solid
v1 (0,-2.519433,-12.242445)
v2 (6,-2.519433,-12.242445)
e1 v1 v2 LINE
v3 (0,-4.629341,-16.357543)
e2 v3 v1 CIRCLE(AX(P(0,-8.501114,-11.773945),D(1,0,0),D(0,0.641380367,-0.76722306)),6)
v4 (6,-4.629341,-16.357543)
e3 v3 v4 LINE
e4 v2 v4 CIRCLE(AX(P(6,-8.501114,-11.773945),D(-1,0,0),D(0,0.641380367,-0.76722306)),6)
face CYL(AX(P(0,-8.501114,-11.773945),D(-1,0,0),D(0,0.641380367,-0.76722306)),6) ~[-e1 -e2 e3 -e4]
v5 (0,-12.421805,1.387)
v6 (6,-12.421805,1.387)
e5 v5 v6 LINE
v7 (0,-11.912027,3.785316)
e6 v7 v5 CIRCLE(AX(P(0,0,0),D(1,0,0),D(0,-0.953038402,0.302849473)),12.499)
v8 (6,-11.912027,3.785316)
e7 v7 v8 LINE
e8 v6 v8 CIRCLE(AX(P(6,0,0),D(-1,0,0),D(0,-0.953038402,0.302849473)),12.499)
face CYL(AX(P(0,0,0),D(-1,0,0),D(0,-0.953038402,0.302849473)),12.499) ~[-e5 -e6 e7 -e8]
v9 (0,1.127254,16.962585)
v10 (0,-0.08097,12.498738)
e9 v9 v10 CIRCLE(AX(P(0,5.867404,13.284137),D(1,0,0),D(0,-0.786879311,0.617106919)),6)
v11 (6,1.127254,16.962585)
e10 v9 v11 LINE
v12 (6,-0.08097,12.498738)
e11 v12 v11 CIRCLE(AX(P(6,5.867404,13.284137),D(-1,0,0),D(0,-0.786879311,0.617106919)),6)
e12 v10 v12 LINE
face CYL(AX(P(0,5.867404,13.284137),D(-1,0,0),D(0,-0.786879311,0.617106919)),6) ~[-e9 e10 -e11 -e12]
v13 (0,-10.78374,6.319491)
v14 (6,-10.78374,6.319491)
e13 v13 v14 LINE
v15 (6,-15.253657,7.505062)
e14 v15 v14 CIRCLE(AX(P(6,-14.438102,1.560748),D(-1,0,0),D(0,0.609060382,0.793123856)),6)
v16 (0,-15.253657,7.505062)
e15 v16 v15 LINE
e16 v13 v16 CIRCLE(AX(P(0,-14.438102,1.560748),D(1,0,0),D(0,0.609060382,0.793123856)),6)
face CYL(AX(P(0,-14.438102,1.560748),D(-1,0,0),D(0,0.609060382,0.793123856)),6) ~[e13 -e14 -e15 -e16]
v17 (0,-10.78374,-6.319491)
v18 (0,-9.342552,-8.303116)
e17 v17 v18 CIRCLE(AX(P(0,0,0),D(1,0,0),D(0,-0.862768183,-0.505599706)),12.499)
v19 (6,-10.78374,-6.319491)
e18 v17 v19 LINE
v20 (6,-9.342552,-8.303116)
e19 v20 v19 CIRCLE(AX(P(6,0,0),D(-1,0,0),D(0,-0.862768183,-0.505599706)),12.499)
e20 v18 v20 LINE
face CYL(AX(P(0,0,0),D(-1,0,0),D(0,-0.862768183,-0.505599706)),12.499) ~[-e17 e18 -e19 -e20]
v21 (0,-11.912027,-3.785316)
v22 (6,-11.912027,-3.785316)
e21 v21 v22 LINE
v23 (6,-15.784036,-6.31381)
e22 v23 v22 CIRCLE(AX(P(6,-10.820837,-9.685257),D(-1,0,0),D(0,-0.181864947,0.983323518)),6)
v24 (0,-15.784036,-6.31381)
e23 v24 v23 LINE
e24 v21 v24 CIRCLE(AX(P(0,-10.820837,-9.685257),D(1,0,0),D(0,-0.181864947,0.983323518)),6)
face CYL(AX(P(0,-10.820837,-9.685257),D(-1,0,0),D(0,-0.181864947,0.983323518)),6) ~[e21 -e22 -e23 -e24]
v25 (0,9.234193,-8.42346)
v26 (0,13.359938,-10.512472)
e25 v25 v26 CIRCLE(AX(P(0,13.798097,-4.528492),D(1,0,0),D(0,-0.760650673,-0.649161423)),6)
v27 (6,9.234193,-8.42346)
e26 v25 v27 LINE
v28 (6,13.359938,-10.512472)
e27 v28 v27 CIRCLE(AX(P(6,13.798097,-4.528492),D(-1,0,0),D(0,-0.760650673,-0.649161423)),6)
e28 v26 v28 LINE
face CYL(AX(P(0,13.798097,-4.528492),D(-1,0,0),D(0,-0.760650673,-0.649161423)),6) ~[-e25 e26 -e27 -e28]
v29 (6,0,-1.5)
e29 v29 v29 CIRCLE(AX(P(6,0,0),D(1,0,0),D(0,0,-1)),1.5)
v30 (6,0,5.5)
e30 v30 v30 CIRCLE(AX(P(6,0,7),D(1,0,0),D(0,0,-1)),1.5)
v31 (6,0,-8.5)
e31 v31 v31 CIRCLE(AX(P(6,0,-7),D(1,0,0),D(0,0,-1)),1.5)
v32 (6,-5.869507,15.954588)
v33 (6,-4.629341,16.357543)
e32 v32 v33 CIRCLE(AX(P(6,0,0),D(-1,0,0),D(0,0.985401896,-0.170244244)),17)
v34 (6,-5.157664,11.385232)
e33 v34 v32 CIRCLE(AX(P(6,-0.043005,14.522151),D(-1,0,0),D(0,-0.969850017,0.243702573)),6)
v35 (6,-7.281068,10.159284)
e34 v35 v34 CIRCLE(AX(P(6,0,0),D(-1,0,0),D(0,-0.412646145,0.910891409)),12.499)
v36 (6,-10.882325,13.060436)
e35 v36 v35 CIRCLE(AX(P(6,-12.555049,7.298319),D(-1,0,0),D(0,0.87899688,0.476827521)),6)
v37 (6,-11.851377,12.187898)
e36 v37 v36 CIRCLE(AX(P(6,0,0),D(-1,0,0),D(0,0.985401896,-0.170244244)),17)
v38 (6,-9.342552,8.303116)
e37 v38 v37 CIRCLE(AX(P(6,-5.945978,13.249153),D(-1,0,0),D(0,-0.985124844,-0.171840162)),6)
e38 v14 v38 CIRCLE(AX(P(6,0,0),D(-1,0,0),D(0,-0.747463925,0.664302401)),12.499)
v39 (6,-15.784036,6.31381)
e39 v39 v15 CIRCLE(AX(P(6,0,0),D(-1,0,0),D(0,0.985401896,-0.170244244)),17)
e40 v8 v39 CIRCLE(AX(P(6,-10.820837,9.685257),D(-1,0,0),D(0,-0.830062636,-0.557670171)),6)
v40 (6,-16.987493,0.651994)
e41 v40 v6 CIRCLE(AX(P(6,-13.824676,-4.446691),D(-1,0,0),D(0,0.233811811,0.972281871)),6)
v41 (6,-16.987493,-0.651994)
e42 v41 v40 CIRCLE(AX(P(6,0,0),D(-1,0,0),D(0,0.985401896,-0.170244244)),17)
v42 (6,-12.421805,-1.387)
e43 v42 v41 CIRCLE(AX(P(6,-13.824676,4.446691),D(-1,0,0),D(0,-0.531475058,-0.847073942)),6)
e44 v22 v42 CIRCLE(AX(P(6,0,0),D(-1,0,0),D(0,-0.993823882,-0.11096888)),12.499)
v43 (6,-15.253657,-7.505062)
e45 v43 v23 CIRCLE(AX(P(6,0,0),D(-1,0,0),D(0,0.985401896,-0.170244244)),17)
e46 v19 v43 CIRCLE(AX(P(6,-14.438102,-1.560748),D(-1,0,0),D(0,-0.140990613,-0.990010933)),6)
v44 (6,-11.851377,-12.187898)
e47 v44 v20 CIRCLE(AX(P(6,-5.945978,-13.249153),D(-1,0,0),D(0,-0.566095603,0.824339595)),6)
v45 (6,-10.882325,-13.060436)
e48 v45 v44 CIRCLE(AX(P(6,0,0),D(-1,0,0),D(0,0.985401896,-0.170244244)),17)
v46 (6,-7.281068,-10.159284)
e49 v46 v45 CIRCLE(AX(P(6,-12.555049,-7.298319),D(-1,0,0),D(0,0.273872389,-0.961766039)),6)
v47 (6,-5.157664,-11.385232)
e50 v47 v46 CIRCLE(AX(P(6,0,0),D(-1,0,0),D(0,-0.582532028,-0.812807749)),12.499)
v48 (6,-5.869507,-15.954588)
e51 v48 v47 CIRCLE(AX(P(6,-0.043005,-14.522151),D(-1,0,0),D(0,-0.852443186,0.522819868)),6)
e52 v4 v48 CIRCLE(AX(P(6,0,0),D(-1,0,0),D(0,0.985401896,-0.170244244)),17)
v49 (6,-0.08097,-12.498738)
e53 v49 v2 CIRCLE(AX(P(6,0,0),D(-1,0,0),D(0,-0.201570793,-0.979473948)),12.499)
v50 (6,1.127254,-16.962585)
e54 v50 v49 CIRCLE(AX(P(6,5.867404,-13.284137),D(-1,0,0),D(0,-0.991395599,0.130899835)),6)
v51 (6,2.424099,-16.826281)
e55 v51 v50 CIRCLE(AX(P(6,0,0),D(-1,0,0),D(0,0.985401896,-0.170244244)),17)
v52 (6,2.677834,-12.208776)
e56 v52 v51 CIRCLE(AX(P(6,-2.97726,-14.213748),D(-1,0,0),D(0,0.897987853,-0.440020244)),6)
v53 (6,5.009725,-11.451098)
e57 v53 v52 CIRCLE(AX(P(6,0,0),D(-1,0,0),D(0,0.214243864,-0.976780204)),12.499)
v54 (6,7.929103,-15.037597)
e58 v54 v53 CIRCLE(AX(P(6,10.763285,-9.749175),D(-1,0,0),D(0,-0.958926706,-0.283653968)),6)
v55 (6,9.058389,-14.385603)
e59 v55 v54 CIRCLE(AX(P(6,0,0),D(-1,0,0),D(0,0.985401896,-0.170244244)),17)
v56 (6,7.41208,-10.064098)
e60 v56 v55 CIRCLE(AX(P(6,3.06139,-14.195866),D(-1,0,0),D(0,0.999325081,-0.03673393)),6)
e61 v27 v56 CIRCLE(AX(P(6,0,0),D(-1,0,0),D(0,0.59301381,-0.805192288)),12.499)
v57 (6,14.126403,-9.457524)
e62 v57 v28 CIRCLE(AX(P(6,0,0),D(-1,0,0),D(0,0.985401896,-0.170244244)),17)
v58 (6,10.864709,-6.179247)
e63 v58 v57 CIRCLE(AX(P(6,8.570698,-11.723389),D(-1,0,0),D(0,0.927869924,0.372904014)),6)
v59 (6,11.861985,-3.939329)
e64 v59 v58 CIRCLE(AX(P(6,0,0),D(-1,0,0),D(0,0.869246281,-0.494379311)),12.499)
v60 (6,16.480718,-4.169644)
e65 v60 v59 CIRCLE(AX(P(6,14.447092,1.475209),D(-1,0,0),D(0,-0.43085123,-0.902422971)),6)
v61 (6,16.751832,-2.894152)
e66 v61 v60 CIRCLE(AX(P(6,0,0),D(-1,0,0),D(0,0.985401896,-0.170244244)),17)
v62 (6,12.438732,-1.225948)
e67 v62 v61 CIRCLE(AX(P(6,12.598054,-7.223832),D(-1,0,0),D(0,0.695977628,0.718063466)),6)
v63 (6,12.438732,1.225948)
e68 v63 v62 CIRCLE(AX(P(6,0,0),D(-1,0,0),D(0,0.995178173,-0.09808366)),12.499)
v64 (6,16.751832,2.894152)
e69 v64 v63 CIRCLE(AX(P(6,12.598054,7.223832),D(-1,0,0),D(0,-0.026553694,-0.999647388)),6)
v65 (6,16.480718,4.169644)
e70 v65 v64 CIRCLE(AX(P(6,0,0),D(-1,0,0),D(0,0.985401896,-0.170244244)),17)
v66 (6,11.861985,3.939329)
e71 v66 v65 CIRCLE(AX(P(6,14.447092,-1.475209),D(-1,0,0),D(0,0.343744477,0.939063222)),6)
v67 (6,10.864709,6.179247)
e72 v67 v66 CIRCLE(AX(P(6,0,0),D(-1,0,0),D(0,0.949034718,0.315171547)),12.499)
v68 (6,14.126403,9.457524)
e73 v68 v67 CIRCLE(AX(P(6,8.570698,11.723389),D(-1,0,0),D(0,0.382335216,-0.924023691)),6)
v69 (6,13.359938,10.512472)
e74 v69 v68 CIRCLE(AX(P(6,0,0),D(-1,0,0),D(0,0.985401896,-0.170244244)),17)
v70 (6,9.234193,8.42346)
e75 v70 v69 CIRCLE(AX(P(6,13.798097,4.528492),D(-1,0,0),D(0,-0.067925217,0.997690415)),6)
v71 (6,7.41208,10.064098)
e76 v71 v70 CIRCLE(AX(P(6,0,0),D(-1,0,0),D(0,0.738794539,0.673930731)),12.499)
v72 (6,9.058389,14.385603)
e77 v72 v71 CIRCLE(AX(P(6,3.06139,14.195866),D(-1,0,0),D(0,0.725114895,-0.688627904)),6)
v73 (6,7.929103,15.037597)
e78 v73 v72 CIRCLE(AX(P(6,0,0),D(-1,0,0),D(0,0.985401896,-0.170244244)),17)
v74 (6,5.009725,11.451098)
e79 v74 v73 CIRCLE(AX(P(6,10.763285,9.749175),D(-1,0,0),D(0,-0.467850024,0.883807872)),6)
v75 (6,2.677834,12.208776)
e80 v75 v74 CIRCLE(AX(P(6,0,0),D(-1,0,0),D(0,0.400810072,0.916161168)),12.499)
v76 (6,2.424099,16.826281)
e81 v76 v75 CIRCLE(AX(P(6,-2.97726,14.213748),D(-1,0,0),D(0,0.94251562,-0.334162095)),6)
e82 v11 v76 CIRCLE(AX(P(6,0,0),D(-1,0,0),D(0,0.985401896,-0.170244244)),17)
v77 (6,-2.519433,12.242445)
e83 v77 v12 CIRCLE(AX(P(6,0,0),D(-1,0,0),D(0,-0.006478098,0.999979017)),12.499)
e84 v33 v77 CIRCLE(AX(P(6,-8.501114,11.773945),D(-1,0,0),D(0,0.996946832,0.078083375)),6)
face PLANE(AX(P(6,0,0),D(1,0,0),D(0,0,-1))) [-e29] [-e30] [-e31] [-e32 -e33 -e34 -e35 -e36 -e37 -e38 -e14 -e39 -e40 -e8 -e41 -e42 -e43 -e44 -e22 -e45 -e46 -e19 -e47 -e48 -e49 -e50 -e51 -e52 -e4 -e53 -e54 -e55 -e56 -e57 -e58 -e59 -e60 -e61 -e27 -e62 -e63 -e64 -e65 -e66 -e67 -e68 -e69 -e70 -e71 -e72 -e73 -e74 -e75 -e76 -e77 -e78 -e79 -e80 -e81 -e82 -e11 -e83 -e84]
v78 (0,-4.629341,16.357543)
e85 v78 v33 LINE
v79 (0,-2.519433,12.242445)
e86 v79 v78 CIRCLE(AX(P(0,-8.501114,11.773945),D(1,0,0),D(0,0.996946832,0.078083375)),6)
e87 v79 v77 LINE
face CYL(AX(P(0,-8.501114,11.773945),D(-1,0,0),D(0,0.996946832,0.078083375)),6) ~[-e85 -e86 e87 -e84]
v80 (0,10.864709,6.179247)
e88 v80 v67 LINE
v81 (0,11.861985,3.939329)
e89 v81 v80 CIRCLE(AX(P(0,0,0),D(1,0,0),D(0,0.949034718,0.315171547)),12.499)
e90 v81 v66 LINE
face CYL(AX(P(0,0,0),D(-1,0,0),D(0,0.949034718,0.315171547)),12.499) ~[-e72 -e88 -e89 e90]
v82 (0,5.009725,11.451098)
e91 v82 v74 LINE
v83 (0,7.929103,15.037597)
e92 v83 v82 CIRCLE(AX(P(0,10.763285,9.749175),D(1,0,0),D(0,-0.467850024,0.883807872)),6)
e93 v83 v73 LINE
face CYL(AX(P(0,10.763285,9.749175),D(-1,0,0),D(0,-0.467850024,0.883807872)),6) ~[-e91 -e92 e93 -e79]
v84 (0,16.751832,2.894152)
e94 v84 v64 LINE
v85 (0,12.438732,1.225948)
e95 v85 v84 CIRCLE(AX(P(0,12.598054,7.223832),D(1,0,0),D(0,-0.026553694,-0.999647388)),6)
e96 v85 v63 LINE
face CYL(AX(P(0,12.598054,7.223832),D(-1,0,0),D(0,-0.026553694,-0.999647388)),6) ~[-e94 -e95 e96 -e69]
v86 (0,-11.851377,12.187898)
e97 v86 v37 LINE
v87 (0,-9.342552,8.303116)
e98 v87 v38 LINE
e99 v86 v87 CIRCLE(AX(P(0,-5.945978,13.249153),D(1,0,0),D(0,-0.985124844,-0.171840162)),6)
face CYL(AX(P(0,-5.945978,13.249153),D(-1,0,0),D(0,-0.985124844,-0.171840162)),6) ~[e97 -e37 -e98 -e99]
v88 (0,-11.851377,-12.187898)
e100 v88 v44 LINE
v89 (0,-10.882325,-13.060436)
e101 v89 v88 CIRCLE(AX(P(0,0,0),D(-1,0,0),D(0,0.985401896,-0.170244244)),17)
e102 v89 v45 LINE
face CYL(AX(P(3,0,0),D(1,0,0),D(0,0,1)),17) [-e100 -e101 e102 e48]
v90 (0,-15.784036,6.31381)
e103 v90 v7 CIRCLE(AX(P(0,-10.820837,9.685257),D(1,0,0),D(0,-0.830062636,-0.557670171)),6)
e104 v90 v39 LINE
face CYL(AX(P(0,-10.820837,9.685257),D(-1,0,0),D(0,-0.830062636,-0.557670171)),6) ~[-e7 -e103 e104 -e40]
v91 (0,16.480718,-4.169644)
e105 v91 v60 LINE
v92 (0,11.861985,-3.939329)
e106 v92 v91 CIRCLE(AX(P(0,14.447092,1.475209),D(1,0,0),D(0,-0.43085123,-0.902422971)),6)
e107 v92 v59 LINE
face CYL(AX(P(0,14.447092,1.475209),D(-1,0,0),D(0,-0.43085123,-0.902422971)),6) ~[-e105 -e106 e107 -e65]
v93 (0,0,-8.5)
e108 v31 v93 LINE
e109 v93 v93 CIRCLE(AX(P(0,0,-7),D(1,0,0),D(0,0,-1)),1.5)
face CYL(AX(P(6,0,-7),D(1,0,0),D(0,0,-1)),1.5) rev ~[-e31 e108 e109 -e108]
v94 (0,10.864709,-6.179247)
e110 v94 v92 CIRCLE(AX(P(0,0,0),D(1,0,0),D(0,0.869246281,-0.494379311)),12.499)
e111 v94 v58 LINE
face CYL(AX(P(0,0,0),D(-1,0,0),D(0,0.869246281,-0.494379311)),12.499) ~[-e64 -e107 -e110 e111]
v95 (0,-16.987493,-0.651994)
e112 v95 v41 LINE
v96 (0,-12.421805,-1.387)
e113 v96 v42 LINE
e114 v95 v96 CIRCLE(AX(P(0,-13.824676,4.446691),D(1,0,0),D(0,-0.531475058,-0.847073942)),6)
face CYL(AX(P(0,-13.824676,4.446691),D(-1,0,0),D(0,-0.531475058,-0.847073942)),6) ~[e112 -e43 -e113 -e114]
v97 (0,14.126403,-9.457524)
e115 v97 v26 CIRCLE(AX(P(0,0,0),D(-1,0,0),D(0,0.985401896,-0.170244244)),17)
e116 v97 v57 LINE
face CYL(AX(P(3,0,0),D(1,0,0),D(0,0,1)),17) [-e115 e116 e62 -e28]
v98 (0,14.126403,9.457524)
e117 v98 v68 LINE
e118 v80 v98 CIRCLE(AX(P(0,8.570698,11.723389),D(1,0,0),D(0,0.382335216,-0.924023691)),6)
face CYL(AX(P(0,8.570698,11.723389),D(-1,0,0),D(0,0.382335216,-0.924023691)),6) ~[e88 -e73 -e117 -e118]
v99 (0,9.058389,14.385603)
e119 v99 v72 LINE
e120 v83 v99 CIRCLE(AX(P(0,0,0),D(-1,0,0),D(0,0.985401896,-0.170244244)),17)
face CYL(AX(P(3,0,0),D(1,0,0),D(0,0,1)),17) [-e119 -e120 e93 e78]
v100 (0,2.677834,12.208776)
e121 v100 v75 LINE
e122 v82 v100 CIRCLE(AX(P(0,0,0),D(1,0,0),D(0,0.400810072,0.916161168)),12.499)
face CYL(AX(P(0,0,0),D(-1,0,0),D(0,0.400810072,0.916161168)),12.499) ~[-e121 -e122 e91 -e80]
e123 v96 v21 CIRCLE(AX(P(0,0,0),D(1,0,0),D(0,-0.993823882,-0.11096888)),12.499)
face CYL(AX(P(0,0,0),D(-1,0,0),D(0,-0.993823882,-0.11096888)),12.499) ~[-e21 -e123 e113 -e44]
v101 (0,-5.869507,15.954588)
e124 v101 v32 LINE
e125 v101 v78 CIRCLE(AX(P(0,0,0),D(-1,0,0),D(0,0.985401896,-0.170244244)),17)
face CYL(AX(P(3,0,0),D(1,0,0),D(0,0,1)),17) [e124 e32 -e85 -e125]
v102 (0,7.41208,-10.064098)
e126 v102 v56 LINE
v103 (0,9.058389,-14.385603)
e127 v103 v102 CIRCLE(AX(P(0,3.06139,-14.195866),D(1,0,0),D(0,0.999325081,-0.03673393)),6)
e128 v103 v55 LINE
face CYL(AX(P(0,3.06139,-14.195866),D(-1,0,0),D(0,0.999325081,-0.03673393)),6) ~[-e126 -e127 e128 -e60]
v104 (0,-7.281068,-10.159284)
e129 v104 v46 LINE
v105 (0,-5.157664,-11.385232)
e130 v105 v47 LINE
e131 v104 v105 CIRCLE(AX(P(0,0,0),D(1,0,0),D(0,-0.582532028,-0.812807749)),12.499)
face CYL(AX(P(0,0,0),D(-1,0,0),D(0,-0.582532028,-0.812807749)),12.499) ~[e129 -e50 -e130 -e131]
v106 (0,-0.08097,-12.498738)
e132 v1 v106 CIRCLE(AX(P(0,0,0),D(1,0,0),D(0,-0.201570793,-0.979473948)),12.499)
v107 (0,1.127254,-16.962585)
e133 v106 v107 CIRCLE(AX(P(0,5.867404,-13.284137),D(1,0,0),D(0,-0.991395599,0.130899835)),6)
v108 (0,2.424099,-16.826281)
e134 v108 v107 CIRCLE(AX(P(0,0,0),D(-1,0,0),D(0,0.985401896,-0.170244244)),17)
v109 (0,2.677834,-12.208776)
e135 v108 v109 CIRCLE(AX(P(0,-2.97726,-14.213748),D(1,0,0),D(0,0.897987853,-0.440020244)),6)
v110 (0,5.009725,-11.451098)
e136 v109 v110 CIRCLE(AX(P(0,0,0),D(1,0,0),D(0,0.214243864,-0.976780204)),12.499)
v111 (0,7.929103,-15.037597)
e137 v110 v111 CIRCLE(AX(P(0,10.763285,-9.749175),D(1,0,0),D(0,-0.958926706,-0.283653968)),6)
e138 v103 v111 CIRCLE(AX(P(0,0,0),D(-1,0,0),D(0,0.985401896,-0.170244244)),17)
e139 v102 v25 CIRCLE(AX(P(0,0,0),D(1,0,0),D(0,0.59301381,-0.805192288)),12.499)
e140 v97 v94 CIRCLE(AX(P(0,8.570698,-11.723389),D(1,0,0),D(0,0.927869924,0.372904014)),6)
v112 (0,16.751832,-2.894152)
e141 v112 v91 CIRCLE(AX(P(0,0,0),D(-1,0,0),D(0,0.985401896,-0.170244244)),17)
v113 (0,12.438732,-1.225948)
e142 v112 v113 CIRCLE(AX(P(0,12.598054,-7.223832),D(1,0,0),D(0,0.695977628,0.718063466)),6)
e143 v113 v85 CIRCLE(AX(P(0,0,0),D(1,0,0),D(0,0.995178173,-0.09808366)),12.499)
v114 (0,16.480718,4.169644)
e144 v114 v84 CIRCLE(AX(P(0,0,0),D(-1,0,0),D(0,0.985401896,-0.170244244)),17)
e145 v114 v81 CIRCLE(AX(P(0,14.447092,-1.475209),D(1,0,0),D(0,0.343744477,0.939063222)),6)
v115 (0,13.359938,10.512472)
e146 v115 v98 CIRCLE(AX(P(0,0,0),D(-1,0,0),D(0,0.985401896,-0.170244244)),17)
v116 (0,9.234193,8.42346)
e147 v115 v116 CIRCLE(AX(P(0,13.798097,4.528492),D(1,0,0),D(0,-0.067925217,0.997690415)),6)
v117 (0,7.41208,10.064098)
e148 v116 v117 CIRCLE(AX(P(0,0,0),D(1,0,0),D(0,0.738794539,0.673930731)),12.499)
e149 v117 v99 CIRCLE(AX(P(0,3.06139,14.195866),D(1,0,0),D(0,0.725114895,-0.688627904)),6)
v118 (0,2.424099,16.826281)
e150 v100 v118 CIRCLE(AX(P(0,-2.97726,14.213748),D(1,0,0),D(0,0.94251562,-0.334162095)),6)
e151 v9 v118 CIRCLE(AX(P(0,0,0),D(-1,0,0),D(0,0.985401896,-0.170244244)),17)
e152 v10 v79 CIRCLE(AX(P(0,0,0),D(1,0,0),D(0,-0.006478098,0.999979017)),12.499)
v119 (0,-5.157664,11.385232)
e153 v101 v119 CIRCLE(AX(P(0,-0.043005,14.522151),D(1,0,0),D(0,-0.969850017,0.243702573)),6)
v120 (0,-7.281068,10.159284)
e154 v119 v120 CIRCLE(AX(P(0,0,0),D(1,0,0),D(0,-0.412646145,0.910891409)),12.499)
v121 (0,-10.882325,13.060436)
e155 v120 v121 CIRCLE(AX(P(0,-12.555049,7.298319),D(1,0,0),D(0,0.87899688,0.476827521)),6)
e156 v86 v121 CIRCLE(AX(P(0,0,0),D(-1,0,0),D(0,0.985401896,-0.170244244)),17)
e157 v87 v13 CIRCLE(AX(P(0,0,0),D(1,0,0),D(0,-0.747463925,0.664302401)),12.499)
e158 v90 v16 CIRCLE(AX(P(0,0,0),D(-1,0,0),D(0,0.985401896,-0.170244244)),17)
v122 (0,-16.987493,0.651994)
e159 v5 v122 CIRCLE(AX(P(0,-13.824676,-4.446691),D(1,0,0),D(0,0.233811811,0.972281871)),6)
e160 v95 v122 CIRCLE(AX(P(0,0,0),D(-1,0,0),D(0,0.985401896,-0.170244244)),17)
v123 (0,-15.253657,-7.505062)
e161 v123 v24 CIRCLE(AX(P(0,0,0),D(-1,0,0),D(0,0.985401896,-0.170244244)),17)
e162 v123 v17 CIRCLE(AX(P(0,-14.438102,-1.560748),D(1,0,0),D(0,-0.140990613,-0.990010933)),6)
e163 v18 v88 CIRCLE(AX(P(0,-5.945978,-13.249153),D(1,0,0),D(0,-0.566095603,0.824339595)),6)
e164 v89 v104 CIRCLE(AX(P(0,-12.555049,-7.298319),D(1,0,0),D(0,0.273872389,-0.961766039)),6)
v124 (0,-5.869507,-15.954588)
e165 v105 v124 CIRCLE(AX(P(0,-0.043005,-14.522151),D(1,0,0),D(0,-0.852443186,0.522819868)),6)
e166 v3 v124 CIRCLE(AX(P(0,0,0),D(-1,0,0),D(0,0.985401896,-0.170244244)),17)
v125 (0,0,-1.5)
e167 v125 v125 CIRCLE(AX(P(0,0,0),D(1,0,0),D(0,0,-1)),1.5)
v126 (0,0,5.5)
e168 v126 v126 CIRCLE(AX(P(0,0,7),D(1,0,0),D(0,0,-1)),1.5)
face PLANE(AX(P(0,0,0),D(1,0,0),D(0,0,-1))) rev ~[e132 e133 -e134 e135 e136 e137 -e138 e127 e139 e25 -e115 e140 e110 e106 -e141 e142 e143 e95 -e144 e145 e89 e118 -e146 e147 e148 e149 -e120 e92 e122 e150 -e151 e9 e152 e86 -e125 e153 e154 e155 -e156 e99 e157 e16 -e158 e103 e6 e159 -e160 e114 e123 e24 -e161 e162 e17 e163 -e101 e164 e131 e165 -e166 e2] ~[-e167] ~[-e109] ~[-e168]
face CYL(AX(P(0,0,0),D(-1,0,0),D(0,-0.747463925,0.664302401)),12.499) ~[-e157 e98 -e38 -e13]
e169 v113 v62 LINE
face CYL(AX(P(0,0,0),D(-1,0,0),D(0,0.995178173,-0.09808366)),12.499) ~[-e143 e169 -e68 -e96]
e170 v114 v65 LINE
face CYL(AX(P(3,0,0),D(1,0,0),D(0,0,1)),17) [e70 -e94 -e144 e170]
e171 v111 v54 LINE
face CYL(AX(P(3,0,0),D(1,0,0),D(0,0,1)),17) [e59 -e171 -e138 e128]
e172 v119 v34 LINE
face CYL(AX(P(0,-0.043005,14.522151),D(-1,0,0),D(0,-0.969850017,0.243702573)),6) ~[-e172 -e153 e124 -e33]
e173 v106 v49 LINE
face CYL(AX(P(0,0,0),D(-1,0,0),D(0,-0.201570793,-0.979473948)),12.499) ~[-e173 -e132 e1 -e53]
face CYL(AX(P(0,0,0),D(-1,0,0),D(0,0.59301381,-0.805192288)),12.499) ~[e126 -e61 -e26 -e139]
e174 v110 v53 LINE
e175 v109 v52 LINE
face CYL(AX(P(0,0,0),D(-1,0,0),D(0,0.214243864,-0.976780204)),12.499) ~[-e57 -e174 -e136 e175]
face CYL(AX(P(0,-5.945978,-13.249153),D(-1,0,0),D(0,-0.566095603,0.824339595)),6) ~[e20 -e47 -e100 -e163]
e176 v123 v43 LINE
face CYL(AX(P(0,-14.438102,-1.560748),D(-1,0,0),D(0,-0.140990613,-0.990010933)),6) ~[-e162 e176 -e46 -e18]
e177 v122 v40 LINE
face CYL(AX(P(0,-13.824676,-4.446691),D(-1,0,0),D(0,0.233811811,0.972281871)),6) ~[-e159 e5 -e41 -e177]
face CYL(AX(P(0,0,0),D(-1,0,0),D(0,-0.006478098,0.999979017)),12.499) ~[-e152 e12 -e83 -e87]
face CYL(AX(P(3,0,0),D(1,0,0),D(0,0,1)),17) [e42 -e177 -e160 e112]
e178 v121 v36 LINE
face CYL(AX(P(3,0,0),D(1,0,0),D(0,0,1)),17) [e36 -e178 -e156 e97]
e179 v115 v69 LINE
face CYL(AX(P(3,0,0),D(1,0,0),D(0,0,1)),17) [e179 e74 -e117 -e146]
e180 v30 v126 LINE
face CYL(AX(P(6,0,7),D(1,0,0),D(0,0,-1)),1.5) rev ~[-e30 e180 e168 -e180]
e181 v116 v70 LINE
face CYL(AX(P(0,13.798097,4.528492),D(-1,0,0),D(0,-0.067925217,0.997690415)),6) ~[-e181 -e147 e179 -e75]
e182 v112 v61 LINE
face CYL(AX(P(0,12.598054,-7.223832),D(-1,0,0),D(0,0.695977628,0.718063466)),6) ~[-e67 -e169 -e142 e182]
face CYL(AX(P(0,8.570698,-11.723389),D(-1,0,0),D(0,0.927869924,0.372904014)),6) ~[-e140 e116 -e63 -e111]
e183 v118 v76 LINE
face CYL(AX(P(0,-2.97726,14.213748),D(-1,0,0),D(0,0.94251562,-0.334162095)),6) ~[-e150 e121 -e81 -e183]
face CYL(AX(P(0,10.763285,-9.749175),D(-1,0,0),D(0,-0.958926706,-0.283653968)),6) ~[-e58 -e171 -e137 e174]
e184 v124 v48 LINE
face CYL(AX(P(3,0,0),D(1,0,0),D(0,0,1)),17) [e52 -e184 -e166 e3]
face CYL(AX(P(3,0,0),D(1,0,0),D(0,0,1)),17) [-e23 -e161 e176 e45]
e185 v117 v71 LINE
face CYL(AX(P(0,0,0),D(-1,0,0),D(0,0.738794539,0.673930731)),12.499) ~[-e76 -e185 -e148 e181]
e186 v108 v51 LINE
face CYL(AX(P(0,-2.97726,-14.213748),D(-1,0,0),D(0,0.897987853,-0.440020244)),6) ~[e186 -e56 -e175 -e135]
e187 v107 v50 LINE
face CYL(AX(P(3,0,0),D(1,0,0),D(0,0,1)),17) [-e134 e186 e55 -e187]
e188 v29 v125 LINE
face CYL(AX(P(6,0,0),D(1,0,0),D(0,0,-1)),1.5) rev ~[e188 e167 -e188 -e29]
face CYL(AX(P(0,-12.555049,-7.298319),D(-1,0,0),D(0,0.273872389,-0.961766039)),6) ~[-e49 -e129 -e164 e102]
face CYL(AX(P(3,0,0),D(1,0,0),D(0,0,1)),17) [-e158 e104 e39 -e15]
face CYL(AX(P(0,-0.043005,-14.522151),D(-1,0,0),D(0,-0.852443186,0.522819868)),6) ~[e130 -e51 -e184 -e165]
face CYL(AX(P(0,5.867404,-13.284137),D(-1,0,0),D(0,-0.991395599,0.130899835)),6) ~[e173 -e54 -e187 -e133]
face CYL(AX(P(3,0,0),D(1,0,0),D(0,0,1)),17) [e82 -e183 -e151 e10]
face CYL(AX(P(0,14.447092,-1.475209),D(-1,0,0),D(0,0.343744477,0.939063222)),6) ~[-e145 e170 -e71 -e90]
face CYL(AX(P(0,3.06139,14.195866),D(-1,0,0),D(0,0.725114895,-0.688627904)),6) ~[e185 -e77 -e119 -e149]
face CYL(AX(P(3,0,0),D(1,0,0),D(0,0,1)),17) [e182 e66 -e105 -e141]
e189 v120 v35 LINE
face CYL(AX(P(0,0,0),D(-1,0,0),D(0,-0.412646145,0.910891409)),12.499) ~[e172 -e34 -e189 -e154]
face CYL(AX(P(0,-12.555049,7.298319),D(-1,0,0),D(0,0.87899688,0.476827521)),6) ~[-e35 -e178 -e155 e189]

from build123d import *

# Parameters (mm, degrees)
BASPROSKE_W             = 6
BASPROSKE_H             = 17
TOOTHCUT_DEPTH          = 25.779023387
TEETHCUTS_COUNT         = 15
TEETHCUTS_ANGLE         = 336
BORSKE_R                = 4
BORE_DEPTH              = 50.0000508
CROQUIS1_R              = 4
CROQUIS1_R_2            = 1.5
SALIENTE_EXTRUIR1_DEPTH = 6
CROQUIS2_R              = 1.5
CORTAR_EXTRUIR1_DEPTH   = 6


with BuildPart() as part:
    # BasProSke → Base-Revolve (revolve)
    with BuildSketch(Plane(origin=(0, 0, 0), x_dir=(1, 0, 0), z_dir=(0, 1, 0)), mode=Mode.PRIVATE) as base_revolve_sk:
        with Locations((3, 8.5)):
            Rectangle(BASPROSKE_W, BASPROSKE_H)
    revolve(base_revolve_sk.sketch.rotate(Axis((-10, 0, 0), (1, 0, 0)), 180), axis=Axis((-10, 0, 0), (1, 0, 0)))

    # TooCutSke → ToothCut (cut, through all)
    with BuildSketch(Plane(origin=(0, 0, 0), x_dir=(0, 0, -1), z_dir=(1, 0, 0))):
        with BuildLine():
            ThreePointArc((1.225947666, 12.438731982), (0, 12.499), (-1.225947666, 12.438731982))
            ThreePointArc((-1.225947666, 12.438731982), (-1.633372372, 14.776760457), (-2.915451202, 16.773919919))
            ThreePointArc((-2.915451202, 16.773919919), (0, 17.0254), (2.915451202, 16.773919919))
            ThreePointArc((2.915451202, 16.773919919), (1.633372372, 14.776760457), (1.225947666, 12.438731982))
        make_face()
    toothcut = extrude(amount=TOOTHCUT_DEPTH, mode=Mode.SUBTRACT)

    # TeethCuts: ToothCut ×15 about axis
    teethcuts_axis = Axis((-10, 0, 0), (1, 0, 0))
    for i in range(1, TEETHCUTS_COUNT):
        add(toothcut.rotate(teethcuts_axis, i * TEETHCUTS_ANGLE / (TEETHCUTS_COUNT - 1)), mode=Mode.SUBTRACT)

    # BorSke → Bore (cut, symmetric)
    with BuildSketch(Plane(origin=(0, 0, 0), x_dir=(0, 0, -1), z_dir=(1, 0, 0))):
        with Locations(Location((0, 0, 0), (0, 0, 180))):
            Circle(BORSKE_R)
    extrude(amount=BORE_DEPTH, both=True, mode=Mode.SUBTRACT)

    # Croquis1 → Saliente-Extruir1 (add)
    with BuildSketch(Plane(origin=(6, 0, 0), x_dir=(0, 0, -1), z_dir=(1, 0, 0))):
        Circle(CROQUIS1_R)
        Circle(CROQUIS1_R_2, mode=Mode.SUBTRACT)
    extrude(amount=-SALIENTE_EXTRUIR1_DEPTH)

    # Croquis2 → Cortar-Extruir1 (cut)
    with BuildSketch(Plane(origin=(6, 0, 0), x_dir=(0, 0, -1), z_dir=(1, 0, 0))):
        with Locations((-7, 0)):
            Circle(CROQUIS2_R)
        with Locations((7, 0)):
            Circle(CROQUIS2_R)
    extrude(amount=-CORTAR_EXTRUIR1_DEPTH, mode=Mode.SUBTRACT)


solid = part.part
